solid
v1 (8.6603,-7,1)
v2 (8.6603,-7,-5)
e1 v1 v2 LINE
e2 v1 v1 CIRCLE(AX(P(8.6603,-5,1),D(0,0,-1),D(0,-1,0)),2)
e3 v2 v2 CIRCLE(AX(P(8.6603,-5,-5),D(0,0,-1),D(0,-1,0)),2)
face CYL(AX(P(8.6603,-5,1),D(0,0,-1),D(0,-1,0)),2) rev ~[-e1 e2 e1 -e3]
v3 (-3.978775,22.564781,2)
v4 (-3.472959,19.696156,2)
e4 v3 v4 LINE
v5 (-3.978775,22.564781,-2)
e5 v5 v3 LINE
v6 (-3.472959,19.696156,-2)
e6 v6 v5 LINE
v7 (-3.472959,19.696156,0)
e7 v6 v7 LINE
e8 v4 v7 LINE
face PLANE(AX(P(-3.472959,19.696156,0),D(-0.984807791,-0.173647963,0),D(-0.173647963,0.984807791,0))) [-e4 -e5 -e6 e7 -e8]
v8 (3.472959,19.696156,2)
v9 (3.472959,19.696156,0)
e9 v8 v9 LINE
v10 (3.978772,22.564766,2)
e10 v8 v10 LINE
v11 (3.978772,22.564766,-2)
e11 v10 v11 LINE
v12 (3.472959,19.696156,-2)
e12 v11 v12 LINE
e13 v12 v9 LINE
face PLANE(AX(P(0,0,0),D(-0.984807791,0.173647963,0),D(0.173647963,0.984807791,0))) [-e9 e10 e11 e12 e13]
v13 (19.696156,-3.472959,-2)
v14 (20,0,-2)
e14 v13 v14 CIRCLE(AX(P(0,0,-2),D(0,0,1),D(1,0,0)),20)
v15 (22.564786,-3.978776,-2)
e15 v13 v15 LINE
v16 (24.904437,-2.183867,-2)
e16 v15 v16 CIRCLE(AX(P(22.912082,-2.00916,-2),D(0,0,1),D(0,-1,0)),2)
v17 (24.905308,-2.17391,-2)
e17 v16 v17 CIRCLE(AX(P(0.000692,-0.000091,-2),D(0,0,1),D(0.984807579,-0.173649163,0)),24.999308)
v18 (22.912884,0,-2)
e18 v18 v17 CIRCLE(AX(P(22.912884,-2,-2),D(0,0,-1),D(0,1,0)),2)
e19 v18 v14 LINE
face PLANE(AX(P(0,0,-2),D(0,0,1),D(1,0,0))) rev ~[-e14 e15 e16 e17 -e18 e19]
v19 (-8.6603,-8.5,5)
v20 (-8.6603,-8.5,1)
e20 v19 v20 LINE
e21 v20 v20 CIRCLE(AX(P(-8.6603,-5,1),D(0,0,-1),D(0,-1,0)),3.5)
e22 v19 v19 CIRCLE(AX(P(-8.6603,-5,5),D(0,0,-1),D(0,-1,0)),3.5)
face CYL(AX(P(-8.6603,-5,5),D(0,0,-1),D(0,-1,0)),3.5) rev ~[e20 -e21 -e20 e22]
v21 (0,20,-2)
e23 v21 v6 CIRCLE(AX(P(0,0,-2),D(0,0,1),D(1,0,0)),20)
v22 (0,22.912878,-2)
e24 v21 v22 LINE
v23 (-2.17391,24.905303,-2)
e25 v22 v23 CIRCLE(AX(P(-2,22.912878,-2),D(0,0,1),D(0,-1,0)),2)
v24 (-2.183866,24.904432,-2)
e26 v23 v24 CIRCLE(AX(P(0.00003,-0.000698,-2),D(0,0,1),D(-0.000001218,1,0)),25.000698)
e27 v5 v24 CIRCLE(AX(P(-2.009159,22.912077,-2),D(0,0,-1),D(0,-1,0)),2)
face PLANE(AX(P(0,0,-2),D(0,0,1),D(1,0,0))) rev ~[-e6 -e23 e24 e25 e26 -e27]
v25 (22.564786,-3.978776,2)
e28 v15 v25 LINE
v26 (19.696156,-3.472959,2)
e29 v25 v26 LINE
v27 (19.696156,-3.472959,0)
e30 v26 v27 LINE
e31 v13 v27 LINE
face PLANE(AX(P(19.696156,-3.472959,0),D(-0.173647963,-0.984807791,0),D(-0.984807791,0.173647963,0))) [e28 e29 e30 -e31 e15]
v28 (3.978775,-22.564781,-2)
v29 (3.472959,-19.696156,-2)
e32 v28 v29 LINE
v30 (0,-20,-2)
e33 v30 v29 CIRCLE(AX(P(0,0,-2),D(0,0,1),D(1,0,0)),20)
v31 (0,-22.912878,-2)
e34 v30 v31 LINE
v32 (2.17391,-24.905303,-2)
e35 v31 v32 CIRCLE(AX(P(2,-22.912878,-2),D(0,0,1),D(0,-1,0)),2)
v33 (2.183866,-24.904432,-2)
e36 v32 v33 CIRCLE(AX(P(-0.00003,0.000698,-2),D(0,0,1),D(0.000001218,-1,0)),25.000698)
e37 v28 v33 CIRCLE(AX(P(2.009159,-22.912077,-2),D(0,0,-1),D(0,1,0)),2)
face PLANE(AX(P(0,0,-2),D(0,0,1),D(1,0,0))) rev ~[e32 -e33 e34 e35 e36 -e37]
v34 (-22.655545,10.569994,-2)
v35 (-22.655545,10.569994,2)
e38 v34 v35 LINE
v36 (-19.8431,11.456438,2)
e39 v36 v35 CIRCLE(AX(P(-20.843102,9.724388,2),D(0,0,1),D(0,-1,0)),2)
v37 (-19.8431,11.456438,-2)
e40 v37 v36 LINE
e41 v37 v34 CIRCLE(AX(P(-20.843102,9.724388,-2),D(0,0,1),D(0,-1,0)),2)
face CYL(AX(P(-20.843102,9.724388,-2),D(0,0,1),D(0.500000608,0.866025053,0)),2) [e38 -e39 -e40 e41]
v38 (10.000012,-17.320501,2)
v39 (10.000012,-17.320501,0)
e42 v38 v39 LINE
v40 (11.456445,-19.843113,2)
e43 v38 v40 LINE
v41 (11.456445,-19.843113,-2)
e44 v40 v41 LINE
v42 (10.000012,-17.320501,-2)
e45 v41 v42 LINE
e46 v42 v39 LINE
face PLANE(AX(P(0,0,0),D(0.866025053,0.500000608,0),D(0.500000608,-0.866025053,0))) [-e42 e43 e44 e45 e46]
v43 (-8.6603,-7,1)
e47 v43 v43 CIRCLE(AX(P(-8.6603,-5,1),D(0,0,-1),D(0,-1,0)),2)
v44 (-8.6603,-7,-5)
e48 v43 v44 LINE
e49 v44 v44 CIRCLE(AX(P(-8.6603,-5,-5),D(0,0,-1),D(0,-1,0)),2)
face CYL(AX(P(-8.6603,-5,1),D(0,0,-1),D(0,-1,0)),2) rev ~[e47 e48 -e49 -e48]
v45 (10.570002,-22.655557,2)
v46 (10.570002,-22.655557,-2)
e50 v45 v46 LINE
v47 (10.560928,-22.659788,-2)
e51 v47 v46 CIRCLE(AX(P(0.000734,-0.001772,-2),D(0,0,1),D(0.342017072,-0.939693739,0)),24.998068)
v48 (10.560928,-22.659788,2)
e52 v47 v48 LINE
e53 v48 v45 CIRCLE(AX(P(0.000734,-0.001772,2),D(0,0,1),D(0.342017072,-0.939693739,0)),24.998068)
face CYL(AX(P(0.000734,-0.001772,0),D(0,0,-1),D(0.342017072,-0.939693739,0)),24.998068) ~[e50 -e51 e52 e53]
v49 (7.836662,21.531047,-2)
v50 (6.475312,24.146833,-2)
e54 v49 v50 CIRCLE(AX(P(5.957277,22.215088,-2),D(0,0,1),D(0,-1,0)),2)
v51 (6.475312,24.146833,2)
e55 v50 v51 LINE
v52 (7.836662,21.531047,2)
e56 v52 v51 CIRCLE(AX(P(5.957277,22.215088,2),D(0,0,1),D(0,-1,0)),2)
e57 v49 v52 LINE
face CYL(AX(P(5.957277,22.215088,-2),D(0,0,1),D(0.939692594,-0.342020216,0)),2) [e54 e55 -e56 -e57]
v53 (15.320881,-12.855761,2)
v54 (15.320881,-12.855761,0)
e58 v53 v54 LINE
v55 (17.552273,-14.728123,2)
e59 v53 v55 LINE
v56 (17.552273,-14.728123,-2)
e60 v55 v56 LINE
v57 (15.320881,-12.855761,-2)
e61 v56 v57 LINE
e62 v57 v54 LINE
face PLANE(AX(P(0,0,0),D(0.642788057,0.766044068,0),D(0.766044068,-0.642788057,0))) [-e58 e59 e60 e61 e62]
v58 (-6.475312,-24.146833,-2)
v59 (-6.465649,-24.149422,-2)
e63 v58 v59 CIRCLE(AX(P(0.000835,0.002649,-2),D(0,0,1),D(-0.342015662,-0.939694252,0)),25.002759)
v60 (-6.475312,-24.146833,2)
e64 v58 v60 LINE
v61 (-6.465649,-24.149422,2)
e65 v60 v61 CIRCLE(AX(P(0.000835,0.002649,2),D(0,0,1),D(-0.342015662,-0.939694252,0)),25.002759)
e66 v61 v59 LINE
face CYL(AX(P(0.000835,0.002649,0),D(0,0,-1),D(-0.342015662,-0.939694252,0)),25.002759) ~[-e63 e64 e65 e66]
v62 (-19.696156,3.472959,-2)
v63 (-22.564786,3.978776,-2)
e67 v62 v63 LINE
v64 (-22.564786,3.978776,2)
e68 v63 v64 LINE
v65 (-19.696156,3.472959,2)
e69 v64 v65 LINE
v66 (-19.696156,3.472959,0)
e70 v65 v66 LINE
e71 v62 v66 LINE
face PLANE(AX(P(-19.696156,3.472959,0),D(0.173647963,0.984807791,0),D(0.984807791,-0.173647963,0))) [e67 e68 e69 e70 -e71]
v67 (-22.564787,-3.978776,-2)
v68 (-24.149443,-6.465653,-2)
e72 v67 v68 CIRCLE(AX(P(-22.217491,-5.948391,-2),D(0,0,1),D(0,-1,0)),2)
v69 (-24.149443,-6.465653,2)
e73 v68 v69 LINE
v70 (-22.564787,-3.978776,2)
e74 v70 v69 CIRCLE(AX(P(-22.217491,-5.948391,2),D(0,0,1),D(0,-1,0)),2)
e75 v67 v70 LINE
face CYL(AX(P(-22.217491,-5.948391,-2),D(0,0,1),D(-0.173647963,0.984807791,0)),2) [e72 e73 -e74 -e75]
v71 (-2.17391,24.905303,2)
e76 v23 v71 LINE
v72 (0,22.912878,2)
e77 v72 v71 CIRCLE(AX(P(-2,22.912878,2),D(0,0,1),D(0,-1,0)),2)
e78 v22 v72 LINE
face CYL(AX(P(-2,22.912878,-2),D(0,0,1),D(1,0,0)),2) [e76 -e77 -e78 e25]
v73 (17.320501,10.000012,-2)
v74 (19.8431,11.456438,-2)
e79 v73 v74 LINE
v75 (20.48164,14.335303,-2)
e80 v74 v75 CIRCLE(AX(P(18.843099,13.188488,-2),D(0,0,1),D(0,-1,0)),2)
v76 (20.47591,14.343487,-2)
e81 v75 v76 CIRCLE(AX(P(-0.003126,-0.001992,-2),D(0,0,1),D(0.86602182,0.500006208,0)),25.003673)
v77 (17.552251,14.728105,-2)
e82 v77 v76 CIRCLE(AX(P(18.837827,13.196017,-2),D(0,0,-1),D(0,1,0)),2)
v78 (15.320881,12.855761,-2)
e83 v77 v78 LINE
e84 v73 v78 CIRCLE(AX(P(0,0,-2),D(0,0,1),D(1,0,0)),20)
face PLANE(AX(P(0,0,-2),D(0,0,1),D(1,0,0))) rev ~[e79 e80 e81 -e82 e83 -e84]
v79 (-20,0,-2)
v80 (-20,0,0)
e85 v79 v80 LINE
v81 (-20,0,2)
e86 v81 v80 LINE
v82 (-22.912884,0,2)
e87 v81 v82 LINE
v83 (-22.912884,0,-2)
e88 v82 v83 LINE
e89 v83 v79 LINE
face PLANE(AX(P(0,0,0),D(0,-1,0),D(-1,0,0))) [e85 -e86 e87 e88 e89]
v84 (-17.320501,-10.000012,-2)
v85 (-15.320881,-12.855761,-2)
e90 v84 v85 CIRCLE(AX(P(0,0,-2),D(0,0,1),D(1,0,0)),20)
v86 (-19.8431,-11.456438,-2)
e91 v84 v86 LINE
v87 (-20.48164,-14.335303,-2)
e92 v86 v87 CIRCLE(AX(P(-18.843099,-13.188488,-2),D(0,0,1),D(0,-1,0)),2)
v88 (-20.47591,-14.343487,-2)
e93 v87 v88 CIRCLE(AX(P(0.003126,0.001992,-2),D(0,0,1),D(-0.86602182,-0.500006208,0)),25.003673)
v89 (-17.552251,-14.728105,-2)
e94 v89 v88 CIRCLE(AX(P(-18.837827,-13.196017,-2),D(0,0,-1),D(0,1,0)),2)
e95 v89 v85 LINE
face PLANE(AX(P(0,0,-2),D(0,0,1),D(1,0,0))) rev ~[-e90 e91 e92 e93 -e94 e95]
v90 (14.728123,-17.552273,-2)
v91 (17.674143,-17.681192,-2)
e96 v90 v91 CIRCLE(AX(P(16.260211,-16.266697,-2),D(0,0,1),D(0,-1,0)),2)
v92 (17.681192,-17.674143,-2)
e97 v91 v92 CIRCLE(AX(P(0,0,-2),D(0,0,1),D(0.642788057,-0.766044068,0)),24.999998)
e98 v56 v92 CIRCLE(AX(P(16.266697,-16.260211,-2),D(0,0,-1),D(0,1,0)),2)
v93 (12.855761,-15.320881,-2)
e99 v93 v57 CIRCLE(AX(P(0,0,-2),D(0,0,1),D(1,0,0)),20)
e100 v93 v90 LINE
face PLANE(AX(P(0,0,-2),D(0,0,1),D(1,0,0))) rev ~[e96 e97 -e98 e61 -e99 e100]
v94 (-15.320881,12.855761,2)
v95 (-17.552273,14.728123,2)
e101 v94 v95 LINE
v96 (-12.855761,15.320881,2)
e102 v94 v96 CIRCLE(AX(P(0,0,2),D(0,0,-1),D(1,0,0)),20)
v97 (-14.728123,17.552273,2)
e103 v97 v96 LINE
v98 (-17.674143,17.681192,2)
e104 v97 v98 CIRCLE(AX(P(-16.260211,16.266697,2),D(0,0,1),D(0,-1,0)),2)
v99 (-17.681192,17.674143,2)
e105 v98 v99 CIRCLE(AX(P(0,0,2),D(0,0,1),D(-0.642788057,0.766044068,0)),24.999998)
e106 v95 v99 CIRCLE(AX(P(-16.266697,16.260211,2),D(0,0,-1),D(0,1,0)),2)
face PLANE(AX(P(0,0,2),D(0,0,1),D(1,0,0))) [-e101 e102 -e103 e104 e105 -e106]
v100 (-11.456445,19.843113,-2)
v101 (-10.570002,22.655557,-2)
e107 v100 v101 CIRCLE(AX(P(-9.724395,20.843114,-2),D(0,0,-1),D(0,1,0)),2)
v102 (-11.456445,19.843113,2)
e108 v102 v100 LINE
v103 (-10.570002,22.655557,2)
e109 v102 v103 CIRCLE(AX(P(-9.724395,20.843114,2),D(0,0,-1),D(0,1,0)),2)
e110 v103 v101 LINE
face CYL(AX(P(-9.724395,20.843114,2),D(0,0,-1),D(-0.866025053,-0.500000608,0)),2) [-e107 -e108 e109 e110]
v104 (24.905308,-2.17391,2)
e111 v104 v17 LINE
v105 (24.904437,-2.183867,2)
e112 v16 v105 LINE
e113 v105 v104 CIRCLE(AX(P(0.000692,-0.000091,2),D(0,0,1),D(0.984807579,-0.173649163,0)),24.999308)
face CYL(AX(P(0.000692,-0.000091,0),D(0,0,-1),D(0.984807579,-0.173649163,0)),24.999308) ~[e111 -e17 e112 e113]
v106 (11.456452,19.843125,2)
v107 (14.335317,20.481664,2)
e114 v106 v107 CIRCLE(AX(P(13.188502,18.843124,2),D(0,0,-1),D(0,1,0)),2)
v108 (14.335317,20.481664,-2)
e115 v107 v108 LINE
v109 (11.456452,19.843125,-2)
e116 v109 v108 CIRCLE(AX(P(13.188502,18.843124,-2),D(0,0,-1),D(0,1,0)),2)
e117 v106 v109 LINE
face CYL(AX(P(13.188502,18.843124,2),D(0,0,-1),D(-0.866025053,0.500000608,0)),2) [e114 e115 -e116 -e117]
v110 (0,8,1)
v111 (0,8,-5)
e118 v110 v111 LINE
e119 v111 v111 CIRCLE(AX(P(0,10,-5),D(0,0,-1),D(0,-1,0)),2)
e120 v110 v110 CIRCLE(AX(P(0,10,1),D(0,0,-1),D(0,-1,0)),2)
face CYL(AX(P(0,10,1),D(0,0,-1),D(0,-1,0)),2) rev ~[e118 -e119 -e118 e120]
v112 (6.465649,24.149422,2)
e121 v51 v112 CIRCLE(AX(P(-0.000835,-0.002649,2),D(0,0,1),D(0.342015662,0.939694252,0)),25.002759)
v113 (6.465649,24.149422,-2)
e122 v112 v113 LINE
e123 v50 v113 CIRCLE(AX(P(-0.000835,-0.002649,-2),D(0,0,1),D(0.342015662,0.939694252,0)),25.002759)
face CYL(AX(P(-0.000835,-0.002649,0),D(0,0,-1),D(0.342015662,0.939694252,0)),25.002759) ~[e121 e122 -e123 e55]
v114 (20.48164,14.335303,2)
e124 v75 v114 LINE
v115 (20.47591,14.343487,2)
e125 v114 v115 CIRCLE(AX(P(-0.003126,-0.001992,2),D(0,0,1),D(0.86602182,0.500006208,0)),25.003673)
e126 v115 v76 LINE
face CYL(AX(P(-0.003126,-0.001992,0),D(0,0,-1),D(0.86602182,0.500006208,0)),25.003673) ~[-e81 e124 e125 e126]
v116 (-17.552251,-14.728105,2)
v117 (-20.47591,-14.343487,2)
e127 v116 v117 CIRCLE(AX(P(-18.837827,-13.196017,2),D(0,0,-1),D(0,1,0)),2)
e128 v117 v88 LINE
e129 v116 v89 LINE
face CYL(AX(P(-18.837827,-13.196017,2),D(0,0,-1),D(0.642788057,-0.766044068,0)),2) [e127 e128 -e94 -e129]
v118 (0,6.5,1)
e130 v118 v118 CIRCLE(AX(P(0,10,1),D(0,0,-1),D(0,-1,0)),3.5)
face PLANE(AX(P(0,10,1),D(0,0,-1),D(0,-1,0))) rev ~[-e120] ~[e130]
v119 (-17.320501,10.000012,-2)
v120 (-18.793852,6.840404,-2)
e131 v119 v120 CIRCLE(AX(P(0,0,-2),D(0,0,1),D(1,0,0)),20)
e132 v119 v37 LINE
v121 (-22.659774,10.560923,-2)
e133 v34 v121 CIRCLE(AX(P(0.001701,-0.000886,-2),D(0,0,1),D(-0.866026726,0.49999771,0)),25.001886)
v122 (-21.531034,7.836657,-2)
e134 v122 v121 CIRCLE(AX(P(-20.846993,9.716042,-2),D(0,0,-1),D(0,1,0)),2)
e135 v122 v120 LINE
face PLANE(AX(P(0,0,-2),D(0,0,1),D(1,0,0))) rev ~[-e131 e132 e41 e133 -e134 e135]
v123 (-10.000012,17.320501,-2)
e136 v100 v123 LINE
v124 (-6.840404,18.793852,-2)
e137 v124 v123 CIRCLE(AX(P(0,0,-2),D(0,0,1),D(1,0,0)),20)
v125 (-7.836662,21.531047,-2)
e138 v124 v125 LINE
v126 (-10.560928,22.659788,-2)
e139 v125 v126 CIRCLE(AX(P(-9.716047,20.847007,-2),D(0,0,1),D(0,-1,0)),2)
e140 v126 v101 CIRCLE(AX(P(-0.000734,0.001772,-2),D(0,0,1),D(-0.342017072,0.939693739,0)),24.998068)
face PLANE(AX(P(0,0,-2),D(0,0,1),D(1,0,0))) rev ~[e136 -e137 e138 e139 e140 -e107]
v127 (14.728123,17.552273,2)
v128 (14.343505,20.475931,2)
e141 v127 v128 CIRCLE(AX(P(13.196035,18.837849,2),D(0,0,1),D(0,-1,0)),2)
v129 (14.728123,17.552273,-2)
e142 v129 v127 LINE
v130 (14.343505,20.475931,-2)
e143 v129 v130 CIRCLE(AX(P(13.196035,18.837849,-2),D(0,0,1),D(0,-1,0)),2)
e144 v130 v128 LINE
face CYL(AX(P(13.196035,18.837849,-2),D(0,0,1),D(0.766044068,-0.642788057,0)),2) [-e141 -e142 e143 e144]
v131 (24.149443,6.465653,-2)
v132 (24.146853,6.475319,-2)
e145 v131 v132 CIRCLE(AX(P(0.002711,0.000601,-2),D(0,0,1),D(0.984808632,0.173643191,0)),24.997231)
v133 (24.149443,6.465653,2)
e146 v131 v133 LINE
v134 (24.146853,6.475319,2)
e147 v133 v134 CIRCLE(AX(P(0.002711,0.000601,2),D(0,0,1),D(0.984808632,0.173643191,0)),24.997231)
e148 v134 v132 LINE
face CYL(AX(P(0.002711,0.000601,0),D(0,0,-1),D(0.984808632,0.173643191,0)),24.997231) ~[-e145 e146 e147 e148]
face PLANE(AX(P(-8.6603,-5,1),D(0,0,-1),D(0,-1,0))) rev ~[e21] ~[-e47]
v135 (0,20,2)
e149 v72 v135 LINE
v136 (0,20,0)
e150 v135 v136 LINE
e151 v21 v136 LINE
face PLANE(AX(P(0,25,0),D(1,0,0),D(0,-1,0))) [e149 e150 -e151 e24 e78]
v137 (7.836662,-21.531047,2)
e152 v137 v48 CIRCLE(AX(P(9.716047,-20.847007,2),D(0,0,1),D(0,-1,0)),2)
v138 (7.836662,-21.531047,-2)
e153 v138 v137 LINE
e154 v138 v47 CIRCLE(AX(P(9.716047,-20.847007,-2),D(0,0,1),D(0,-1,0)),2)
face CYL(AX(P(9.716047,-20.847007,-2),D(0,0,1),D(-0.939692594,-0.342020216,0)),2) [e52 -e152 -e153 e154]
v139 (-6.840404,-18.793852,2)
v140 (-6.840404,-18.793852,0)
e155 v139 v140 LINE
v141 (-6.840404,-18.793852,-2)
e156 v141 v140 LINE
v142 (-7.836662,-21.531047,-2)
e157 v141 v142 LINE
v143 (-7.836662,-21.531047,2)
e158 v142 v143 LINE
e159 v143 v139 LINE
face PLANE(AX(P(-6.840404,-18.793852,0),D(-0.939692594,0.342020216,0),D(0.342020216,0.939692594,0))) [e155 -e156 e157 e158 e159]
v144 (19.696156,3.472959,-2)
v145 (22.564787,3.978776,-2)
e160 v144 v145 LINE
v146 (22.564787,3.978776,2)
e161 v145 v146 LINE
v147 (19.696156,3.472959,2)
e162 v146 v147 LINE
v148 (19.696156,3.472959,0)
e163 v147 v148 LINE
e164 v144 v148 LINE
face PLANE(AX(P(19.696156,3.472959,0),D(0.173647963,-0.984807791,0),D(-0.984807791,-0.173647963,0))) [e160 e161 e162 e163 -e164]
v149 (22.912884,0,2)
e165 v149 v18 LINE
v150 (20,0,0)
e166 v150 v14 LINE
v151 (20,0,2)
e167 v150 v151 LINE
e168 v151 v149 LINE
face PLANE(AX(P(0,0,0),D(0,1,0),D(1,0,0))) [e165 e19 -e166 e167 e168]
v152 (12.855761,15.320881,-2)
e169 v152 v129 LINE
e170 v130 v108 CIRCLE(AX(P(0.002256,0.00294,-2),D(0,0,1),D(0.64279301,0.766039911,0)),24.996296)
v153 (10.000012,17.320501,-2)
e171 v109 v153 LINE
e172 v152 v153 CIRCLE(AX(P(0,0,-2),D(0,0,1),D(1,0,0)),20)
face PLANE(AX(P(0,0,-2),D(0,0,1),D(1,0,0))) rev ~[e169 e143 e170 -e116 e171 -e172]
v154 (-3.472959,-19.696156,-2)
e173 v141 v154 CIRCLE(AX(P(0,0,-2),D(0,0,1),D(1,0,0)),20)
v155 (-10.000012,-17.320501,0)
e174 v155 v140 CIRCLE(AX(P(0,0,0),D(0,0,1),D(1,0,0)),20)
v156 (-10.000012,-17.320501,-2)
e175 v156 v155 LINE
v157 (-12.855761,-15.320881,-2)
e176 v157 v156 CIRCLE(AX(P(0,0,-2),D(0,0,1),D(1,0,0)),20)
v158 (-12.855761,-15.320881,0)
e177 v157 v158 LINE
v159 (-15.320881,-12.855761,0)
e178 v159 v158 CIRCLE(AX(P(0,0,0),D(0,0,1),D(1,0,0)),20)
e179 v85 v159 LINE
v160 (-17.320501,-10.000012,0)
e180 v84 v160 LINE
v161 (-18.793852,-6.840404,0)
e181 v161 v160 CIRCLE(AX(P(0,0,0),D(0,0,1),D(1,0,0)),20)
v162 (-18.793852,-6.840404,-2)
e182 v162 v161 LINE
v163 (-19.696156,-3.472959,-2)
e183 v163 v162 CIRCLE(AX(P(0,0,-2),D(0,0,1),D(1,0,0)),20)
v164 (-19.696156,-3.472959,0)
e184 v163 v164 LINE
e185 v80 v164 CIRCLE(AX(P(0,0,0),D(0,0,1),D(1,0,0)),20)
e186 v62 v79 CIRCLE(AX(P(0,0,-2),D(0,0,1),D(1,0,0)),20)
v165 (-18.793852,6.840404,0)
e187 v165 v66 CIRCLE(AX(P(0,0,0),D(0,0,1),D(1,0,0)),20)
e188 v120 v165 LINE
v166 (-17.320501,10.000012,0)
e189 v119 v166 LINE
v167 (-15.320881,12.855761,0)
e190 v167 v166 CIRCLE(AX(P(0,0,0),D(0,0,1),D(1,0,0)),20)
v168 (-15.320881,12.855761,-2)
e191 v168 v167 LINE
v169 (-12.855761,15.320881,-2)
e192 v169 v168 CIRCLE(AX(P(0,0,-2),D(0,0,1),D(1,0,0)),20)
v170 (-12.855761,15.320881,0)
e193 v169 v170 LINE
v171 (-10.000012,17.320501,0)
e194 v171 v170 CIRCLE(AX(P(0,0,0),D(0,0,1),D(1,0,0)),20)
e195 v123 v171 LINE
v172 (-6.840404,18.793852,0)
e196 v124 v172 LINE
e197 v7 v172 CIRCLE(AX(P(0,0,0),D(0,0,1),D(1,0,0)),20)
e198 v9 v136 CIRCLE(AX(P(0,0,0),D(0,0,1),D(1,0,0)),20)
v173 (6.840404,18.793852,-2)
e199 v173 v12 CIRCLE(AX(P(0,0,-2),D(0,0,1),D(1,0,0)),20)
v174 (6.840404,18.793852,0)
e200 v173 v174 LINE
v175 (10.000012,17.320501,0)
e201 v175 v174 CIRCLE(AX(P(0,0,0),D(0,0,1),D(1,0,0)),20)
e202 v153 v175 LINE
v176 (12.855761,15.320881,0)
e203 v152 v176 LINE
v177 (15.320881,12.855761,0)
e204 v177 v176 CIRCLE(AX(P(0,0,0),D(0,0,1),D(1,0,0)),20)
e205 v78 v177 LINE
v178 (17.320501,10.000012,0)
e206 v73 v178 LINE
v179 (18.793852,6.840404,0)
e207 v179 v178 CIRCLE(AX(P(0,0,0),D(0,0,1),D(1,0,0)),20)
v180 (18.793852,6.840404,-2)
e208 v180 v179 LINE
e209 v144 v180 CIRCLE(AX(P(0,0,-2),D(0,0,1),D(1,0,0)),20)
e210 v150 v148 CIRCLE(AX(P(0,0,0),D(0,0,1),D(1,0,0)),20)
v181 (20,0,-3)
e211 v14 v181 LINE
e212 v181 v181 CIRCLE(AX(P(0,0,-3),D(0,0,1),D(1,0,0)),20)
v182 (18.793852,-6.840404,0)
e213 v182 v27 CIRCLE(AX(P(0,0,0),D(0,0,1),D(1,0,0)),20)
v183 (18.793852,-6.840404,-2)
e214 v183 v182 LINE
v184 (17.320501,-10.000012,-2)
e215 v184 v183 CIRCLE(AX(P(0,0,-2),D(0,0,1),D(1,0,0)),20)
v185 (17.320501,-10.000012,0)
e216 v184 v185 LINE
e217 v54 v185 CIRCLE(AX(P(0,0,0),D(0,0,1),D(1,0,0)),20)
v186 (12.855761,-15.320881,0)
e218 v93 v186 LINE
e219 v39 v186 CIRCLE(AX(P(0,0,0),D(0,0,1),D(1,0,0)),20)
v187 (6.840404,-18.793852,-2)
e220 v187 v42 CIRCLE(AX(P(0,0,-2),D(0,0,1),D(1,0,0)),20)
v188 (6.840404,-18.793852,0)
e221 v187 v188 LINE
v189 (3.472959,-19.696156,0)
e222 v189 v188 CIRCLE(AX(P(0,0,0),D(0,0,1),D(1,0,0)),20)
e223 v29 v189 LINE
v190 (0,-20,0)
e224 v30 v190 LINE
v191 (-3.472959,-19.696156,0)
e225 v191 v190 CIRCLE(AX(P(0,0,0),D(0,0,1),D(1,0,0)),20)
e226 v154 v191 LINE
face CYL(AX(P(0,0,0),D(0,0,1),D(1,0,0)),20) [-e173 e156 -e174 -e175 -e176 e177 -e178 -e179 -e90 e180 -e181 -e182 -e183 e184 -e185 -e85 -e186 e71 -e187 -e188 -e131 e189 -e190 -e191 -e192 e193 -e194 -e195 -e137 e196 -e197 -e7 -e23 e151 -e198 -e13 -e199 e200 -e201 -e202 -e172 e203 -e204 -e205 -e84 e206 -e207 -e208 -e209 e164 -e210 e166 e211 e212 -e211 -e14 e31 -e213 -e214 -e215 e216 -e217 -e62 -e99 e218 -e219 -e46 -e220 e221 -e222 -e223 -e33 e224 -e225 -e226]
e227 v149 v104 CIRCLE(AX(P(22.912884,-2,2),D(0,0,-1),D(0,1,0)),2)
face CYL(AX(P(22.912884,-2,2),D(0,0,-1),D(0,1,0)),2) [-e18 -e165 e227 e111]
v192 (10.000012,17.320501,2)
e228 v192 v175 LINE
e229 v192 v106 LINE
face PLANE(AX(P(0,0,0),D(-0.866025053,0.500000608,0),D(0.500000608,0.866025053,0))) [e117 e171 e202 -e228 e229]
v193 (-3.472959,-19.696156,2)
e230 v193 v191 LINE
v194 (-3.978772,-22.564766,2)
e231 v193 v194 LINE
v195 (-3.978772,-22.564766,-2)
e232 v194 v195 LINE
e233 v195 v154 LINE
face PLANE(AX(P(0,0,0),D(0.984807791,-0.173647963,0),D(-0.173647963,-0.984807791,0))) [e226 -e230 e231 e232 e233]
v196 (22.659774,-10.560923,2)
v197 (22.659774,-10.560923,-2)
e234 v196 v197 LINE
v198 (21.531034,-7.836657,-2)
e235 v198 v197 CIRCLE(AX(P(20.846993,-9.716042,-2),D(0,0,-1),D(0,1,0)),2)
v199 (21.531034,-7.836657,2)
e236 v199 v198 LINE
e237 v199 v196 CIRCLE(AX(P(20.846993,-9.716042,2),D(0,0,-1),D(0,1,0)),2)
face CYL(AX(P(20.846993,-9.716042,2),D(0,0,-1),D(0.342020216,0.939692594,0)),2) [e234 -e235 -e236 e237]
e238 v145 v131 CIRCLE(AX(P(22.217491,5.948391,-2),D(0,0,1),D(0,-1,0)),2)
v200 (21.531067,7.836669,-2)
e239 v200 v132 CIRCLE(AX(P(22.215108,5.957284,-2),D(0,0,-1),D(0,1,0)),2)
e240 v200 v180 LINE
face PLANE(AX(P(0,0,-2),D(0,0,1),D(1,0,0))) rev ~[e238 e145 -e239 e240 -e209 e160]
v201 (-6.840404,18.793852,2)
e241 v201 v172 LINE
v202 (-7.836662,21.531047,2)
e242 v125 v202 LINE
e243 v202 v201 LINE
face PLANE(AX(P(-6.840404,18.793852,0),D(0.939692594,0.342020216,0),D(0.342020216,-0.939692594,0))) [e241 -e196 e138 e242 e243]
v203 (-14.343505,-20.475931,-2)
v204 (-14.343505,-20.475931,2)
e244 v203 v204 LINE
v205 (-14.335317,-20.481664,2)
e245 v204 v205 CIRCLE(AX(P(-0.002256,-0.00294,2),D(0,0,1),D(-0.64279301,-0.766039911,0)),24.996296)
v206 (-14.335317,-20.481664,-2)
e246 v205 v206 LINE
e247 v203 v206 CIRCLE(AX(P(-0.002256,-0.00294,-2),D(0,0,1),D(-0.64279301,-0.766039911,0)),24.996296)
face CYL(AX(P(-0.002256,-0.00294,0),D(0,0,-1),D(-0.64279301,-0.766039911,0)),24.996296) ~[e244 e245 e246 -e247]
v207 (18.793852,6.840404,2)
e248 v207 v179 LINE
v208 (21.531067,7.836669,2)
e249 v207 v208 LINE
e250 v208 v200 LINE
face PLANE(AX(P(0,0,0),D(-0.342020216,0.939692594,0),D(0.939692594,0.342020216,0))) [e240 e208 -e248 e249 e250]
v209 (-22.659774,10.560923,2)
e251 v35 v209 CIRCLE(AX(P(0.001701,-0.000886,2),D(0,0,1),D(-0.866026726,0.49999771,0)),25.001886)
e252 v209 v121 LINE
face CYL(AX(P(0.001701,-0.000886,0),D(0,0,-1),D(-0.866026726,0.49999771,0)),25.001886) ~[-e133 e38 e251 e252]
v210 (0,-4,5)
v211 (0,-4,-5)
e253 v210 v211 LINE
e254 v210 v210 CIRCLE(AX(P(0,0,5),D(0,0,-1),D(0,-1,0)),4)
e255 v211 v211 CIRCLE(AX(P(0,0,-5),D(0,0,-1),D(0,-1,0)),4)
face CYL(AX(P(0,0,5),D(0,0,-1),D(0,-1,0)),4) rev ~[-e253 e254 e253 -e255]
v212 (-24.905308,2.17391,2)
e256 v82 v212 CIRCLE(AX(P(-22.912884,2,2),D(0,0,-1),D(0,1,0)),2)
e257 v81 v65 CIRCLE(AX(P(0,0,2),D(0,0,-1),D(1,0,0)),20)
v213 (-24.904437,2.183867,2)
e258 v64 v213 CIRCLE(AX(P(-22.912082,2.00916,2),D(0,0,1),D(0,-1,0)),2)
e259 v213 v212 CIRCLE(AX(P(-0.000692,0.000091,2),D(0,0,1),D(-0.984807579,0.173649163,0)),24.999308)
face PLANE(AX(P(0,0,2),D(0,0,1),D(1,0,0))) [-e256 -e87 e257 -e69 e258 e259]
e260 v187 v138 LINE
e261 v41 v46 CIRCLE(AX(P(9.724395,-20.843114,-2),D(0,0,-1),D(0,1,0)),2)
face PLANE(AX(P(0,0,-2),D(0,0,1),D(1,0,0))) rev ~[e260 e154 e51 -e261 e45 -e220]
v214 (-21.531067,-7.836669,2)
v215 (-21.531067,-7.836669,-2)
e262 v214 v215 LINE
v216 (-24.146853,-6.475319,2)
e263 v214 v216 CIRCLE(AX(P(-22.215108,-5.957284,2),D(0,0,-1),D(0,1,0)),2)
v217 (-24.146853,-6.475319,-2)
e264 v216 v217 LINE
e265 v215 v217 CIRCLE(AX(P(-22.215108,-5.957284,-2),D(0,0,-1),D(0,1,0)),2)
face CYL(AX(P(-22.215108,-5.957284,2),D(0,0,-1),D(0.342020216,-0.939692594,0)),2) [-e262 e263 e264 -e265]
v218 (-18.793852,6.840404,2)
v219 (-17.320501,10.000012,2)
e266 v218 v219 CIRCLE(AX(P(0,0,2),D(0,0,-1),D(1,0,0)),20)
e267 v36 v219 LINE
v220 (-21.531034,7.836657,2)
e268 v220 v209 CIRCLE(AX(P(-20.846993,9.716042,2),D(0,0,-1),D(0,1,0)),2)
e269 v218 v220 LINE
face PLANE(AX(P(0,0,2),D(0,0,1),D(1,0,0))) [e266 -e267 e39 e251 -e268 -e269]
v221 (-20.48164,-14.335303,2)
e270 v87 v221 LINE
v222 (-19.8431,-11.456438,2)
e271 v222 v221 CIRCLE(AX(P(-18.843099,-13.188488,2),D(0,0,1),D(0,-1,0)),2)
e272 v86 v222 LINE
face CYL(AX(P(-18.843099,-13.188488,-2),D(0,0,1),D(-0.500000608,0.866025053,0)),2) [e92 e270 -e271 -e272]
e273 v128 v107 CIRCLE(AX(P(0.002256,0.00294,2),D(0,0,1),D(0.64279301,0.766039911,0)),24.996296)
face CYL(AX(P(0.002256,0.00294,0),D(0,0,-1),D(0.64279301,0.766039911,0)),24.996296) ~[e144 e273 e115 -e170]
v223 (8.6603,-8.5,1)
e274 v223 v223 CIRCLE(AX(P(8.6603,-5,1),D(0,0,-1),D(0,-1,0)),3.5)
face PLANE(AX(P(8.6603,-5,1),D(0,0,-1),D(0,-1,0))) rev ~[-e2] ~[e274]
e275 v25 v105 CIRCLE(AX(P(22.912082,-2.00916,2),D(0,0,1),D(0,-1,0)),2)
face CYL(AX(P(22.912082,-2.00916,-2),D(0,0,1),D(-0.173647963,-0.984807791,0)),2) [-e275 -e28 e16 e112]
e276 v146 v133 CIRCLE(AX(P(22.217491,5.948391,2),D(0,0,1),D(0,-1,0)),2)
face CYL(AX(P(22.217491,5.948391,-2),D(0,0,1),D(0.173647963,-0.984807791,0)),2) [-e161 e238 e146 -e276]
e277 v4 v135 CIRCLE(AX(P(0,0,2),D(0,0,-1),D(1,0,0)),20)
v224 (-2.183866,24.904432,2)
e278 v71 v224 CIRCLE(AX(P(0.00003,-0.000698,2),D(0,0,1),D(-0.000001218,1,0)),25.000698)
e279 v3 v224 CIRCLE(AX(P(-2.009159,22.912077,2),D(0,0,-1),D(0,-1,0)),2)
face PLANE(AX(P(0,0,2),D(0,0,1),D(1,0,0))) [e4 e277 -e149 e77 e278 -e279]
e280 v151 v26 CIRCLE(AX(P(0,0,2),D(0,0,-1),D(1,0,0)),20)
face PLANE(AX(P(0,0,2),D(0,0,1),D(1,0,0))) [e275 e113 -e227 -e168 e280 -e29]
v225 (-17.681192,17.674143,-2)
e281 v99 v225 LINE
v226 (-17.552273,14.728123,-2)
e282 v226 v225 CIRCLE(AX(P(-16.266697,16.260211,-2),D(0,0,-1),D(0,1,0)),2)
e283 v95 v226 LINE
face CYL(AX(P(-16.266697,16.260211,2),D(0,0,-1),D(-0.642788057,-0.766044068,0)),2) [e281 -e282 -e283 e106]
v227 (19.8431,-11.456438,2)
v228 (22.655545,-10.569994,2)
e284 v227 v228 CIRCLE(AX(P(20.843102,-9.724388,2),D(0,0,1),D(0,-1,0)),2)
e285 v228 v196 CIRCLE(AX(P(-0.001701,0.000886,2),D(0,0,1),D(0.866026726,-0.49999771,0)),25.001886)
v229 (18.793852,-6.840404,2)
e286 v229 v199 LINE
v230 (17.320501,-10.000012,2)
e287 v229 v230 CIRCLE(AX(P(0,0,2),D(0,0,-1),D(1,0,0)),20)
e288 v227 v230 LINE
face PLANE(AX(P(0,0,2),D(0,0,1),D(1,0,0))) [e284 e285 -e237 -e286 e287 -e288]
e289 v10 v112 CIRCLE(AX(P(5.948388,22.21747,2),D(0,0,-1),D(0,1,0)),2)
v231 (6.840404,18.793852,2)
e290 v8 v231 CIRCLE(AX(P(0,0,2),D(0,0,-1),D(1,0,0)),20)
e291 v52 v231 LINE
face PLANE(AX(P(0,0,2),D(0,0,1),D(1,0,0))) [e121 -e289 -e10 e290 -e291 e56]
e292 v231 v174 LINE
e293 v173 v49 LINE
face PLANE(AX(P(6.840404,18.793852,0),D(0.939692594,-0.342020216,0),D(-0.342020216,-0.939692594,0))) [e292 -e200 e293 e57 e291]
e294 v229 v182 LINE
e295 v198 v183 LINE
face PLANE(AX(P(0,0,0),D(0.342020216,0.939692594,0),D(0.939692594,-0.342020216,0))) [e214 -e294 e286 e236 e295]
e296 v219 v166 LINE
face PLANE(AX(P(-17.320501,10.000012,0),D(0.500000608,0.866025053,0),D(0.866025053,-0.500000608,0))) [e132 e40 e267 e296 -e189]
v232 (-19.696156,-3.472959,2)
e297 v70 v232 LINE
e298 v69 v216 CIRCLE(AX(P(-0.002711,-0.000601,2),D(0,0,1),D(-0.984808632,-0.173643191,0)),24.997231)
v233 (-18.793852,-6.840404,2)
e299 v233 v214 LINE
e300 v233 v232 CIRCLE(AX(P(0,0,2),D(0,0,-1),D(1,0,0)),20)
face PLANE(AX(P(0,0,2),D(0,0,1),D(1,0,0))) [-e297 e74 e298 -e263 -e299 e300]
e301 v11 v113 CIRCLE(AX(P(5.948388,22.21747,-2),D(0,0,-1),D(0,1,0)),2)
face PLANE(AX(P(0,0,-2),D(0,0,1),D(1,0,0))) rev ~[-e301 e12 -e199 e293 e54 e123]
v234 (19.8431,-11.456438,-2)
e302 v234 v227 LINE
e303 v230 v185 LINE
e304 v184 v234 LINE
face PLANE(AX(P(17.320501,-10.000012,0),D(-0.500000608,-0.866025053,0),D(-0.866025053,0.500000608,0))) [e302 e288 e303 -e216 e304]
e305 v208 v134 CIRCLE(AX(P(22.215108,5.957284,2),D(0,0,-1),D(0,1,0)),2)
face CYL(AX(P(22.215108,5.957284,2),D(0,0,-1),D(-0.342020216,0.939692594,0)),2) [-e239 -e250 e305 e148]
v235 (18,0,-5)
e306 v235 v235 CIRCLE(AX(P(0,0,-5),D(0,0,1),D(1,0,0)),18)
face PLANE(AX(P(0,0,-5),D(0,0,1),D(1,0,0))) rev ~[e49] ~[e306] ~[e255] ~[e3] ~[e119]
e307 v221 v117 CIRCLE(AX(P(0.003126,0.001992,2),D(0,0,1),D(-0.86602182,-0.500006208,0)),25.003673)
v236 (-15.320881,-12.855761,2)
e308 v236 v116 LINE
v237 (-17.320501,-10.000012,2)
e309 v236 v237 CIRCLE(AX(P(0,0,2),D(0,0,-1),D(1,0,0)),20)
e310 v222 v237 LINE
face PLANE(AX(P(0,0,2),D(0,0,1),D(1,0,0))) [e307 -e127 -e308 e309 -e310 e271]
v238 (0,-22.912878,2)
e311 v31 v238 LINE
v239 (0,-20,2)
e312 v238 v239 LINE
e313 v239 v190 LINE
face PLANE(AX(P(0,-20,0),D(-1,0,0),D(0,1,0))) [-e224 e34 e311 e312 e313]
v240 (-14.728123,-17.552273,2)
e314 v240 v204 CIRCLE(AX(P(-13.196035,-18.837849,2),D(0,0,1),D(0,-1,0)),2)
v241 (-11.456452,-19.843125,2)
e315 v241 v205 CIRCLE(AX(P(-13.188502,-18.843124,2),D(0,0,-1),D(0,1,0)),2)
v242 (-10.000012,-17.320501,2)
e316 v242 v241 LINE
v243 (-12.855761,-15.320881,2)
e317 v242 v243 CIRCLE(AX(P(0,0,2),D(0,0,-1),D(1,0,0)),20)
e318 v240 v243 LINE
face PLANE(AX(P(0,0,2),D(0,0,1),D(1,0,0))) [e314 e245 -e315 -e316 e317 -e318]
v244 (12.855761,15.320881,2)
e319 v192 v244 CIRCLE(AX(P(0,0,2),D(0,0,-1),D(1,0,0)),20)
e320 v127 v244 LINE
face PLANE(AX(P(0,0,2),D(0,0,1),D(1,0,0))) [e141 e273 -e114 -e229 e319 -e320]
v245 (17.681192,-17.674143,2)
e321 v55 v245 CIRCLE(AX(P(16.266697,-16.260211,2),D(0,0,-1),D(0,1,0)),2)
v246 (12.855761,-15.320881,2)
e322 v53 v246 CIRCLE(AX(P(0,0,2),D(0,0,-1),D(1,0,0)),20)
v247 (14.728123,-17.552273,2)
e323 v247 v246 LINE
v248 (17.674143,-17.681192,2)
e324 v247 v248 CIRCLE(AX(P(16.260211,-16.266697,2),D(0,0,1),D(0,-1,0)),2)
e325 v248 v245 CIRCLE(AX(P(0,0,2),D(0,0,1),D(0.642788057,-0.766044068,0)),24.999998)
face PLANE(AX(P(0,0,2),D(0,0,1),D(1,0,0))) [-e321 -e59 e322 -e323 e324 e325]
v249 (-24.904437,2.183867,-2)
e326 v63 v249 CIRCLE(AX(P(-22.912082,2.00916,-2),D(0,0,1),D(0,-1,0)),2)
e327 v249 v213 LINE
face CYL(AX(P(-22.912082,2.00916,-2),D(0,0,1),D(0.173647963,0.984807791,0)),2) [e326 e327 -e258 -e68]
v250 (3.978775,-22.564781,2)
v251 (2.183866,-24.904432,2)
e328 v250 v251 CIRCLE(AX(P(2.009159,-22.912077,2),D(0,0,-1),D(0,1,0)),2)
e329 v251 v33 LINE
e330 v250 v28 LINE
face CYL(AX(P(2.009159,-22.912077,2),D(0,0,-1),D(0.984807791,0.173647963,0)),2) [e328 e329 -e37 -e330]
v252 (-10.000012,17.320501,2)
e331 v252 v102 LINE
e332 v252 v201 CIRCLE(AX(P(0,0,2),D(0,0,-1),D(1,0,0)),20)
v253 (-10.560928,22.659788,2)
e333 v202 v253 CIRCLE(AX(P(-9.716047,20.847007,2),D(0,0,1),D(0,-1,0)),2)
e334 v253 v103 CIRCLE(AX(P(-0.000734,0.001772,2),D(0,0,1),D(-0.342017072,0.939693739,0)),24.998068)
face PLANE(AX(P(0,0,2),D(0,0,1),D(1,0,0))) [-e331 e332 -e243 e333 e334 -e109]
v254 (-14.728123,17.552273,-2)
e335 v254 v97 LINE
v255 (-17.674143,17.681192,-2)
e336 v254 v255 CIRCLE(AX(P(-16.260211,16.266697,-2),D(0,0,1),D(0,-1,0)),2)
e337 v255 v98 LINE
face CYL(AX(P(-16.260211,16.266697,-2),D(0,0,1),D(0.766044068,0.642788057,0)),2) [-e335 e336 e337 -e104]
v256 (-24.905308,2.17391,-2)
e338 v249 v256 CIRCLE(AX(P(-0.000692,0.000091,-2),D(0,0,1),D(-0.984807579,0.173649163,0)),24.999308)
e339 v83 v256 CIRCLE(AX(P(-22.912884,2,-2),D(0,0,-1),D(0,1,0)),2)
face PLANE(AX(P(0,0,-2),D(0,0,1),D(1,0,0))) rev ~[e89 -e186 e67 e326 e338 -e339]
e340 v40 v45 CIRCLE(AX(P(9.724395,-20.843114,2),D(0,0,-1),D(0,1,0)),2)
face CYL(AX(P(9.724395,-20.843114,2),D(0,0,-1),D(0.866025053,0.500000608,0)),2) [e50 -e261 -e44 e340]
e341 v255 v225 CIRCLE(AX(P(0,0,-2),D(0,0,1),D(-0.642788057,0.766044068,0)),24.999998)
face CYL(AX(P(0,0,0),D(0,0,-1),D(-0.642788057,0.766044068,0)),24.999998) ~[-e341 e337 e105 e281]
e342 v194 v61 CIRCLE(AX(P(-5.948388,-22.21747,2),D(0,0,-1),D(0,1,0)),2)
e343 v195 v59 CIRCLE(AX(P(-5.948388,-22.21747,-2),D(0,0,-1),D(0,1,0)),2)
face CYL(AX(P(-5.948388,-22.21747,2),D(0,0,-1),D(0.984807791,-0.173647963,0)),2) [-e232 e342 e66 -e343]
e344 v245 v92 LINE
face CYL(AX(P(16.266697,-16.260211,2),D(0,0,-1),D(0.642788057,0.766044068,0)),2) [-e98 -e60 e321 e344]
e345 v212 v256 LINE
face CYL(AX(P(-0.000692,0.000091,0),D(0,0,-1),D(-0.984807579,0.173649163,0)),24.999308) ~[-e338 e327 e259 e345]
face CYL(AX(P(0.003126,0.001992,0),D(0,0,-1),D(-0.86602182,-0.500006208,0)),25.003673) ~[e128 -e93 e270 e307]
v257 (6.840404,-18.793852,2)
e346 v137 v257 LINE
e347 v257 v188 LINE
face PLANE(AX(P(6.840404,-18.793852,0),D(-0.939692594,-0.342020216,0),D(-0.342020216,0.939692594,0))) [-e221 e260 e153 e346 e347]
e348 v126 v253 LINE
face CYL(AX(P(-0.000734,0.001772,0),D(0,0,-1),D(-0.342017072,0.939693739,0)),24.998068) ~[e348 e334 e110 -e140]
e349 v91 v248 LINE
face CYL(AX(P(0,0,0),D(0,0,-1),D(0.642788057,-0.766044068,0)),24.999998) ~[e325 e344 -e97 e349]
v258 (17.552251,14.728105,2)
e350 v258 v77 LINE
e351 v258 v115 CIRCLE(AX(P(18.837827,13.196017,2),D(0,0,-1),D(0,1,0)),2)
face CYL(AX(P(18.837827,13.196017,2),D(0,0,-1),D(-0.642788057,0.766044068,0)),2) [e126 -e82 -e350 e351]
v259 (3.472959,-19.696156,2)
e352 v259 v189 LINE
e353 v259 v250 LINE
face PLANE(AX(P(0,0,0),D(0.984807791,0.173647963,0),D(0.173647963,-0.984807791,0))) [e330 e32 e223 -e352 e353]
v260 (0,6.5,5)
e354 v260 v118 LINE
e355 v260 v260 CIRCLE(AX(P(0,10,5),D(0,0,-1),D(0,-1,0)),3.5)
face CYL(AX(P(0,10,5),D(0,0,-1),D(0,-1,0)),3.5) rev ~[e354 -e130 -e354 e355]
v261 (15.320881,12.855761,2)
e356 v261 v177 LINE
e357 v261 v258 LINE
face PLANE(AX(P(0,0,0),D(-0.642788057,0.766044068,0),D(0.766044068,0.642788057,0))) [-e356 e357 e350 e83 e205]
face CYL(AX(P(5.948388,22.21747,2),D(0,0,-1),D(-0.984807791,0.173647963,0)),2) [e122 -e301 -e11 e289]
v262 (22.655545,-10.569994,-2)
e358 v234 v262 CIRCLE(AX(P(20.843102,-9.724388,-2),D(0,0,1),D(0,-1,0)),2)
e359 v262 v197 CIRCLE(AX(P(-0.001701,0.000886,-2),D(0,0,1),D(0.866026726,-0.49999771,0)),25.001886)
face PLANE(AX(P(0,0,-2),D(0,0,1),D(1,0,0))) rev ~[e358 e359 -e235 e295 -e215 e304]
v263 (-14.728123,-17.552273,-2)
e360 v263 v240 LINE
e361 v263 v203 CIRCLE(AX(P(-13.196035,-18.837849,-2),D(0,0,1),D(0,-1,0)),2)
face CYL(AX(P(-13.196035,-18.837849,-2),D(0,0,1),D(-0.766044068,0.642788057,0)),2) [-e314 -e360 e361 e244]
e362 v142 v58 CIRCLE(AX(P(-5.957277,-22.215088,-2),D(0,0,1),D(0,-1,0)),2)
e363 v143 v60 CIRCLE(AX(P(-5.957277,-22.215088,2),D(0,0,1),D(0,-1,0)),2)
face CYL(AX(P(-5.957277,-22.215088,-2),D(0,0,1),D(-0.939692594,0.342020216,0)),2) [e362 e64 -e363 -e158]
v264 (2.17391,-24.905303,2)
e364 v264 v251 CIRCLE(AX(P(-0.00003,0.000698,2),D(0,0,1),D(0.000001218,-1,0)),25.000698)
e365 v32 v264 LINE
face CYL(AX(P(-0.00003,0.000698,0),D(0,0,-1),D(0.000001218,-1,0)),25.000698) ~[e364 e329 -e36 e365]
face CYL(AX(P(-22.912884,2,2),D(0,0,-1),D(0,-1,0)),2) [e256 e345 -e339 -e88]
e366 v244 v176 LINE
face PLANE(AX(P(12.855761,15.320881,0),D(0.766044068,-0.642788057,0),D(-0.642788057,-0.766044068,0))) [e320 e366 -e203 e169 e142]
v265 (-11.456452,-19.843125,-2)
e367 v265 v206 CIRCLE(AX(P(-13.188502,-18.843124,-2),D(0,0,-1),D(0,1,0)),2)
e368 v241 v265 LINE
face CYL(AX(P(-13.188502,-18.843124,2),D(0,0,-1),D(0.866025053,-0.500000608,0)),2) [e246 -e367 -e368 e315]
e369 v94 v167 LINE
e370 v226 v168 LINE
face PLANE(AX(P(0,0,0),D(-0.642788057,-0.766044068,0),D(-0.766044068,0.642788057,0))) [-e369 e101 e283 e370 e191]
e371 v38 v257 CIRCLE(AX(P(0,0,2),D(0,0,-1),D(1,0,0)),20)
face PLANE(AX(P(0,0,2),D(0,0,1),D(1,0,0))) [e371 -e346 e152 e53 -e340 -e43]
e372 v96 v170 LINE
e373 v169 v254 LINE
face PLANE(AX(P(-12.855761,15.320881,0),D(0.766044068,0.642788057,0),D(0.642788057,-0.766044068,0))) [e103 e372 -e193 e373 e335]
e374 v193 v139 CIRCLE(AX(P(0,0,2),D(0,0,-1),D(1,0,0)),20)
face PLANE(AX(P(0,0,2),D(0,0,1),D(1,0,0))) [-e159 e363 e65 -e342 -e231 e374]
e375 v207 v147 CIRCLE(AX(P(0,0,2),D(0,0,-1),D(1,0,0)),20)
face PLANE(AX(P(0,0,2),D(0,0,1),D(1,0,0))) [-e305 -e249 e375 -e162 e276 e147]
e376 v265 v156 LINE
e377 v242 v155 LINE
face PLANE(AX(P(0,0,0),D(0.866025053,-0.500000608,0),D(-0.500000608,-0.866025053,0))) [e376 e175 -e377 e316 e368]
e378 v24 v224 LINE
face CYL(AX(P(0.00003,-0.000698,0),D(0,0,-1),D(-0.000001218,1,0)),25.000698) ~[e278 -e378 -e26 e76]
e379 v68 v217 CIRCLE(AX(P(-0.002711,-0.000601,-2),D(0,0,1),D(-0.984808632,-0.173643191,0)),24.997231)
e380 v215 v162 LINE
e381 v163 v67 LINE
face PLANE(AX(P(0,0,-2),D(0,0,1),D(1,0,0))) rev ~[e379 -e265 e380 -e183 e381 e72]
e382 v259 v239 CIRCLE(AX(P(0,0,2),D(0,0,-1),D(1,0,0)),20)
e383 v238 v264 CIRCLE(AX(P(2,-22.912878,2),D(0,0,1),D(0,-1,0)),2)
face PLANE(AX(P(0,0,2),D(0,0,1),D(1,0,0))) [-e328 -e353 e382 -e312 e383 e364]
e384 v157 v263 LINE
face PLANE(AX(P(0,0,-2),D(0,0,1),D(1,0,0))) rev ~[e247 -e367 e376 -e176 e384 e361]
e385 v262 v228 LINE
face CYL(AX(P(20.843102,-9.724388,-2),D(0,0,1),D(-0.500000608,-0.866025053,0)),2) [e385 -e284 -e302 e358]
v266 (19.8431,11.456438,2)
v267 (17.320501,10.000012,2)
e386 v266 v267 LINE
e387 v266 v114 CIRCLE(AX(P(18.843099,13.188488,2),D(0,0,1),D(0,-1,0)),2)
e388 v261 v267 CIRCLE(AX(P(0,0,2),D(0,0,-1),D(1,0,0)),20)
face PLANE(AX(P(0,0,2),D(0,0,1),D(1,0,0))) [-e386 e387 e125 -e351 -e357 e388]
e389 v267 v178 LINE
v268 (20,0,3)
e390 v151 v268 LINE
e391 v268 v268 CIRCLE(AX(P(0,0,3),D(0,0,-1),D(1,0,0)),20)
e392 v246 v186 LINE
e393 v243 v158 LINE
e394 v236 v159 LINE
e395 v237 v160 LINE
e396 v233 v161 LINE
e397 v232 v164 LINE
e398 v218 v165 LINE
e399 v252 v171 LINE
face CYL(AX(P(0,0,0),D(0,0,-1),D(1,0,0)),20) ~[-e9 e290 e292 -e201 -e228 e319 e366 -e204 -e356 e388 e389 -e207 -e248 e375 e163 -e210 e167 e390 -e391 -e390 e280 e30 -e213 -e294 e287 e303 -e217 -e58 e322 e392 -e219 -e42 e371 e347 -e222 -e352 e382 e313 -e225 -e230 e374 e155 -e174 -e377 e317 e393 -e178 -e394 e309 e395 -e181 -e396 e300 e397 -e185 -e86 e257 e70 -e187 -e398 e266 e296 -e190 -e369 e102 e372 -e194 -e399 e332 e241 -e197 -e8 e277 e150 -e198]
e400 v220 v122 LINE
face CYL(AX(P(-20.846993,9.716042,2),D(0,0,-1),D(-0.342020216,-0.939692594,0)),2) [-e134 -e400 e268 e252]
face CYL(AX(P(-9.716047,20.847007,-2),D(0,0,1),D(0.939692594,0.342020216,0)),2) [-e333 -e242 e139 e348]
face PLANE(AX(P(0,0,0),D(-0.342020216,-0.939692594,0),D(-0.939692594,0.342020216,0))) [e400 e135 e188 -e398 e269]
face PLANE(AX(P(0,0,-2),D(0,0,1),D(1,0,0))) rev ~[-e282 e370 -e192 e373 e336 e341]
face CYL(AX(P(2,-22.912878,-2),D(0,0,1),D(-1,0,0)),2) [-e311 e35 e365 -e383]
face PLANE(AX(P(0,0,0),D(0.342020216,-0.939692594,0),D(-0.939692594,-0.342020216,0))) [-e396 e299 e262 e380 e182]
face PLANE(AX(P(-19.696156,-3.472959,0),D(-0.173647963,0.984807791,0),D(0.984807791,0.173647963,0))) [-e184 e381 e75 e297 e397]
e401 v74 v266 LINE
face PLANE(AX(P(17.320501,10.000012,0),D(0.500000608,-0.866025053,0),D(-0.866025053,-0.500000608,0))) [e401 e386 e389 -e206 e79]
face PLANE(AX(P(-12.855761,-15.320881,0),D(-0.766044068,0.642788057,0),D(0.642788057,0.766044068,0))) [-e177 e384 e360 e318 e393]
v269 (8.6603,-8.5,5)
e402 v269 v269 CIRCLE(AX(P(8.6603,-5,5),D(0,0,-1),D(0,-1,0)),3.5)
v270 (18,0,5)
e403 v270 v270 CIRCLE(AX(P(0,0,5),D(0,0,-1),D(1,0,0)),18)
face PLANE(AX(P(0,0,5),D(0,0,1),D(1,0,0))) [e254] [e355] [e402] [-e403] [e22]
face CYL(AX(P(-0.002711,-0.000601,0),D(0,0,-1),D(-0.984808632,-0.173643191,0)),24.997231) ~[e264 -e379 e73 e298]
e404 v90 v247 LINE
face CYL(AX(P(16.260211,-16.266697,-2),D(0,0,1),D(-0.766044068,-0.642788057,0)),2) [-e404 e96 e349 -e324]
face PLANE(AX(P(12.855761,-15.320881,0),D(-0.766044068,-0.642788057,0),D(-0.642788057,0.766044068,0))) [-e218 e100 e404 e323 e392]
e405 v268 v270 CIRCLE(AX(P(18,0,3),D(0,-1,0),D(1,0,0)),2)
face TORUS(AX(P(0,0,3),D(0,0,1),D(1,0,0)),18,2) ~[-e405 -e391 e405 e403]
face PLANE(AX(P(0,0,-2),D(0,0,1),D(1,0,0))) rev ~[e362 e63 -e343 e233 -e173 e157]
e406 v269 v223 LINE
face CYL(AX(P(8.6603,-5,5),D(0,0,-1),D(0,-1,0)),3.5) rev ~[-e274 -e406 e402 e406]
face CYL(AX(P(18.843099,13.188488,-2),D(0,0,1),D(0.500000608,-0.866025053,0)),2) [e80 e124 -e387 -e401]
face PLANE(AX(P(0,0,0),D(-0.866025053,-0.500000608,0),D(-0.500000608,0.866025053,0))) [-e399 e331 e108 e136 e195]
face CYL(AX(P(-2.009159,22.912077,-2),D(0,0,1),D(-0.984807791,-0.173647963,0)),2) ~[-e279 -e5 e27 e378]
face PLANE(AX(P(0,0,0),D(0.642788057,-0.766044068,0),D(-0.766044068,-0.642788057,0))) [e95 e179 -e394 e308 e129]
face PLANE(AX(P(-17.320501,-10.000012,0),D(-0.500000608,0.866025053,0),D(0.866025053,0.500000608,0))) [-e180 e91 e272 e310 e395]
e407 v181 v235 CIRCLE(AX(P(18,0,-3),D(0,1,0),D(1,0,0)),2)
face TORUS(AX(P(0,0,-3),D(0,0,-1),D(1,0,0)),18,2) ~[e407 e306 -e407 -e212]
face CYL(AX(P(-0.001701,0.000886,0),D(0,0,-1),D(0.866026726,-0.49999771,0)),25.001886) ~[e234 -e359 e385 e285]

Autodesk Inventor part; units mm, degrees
ref_plane "YZ Plane" through (0, 0, 0) normal (1, 0, 0) x (0, 1, 0)
ref_plane "XZ Plane" through (0, 0, 0) normal (0, 1, 0) x (-1, 0, 0)
ref_plane "XY Plane" through (0, 0, 0) normal (0, 0, 1) x (1, 0, 0)
sketch "Sketch1" plane through (0, 0, 0) normal (0, 0, 1) x (1, 0, 0)
  arc A0 (0, 25) -> (-4.3412, 24.6202) centre (0, 0) ccw
  line L0 (0, 0) -> (-4.3412, 24.6202) construction
  line L1 (0, 0) -> (0, 25) construction
  line L2 (0, 25) -> (0, 0)
  line L3 (0, 0) -> (-4.3412, 24.6202)
  arc A1 (-8.5505, 23.4923) -> (-12.5, 21.6506) centre (0, 0) ccw
  line L4 (0, 0) -> (-12.5, 21.6506) construction
  line L5 (0, 0) -> (-8.5505, 23.4923) construction
  line L6 (-8.5505, 23.4923) -> (0, 0)
  line L7 (0, 0) -> (-12.5, 21.6506)
  arc A2 (-16.0697, 19.1511) -> (-19.1511, 16.0697) centre (0, 0) ccw
  line L8 (0, 0) -> (-19.1511, 16.0697) construction
  line L9 (0, 0) -> (-16.0697, 19.1511) construction
  line L10 (-16.0697, 19.1511) -> (0, 0)
  line L11 (0, 0) -> (-19.1511, 16.0697)
  arc A3 (-21.6506, 12.5) -> (-23.4923, 8.5505) centre (0, 0) ccw
  line L12 (0, 0) -> (-23.4923, 8.5505) construction
  line L13 (0, 0) -> (-21.6506, 12.5) construction
  line L14 (-21.6506, 12.5) -> (0, 0)
  line L15 (0, 0) -> (-23.4923, 8.5505)
  arc A4 (-24.6202, 4.3412) -> (-25, 0) centre (0, 0) ccw
  line L16 (0, 0) -> (-25, 0) construction
  line L17 (0, 0) -> (-24.6202, 4.3412) construction
  line L18 (-24.6202, 4.3412) -> (0, 0)
  line L19 (0, 0) -> (-25, 0)
  arc A5 (-24.6202, -4.3412) -> (-23.4923, -8.5505) centre (0, 0) ccw
  line L20 (0, 0) -> (-23.4923, -8.5505) construction
  line L21 (0, 0) -> (-24.6202, -4.3412) construction
  line L22 (-24.6202, -4.3412) -> (0, 0)
  line L23 (0, 0) -> (-23.4923, -8.5505)
  arc A6 (-21.6506, -12.5) -> (-19.1511, -16.0697) centre (0, 0) ccw
  line L24 (0, 0) -> (-19.1511, -16.0697) construction
  line L25 (0, 0) -> (-21.6506, -12.5) construction
  line L26 (-21.6506, -12.5) -> (0, 0)
  line L27 (0, 0) -> (-19.1511, -16.0697)
  arc A7 (-16.0697, -19.1511) -> (-12.5, -21.6506) centre (0, 0) ccw
  line L28 (0, 0) -> (-12.5, -21.6506) construction
  line L29 (0, 0) -> (-16.0697, -19.1511) construction
  line L30 (-16.0697, -19.1511) -> (0, 0)
  line L31 (0, 0) -> (-12.5, -21.6506)
  arc A8 (-8.5505, -23.4923) -> (-4.3412, -24.6202) centre (0, 0) ccw
  line L32 (0, 0) -> (-4.3412, -24.6202) construction
  line L33 (0, 0) -> (-8.5505, -23.4923) construction
  line L34 (-8.5505, -23.4923) -> (0, 0)
  line L35 (0, 0) -> (-4.3412, -24.6202)
  arc A9 (0, -25) -> (4.3412, -24.6202) centre (0, 0) ccw
  line L36 (0, 0) -> (4.3412, -24.6202) construction
  line L37 (0, 0) -> (0, -25) construction
  line L38 (0, -25) -> (0, 0)
  line L39 (0, 0) -> (4.3412, -24.6202)
  arc A10 (8.5505, -23.4923) -> (12.5, -21.6506) centre (0, 0) ccw
  line L40 (0, 0) -> (12.5, -21.6506) construction
  line L41 (0, 0) -> (8.5505, -23.4923) construction
  line L42 (8.5505, -23.4923) -> (0, 0)
  line L43 (0, 0) -> (12.5, -21.6506)
  arc A11 (16.0697, -19.1511) -> (19.1511, -16.0697) centre (0, 0) ccw
  line L44 (0, 0) -> (19.1511, -16.0697) construction
  line L45 (0, 0) -> (16.0697, -19.1511) construction
  line L46 (16.0697, -19.1511) -> (0, 0)
  line L47 (0, 0) -> (19.1511, -16.0697)
  arc A12 (21.6506, -12.5) -> (23.4923, -8.5505) centre (0, 0) ccw
  line L48 (0, 0) -> (23.4923, -8.5505) construction
  line L49 (0, 0) -> (21.6506, -12.5) construction
  line L50 (21.6506, -12.5) -> (0, 0)
  line L51 (0, 0) -> (23.4923, -8.5505)
  arc A13 (24.6202, -4.3412) -> (25, 0) centre (0, 0) ccw
  line L52 (0, 0) -> (25, 0) construction
  line L53 (0, 0) -> (24.6202, -4.3412) construction
  line L54 (24.6202, -4.3412) -> (0, 0)
  line L55 (0, 0) -> (25, 0)
  arc A14 (24.6202, 4.3412) -> (23.4923, 8.5505) centre (0, 0) ccw
  line L56 (0, 0) -> (23.4923, 8.5505) construction
  line L57 (0, 0) -> (24.6202, 4.3412) construction
  line L58 (24.6202, 4.3412) -> (0, 0)
  line L59 (0, 0) -> (23.4923, 8.5505)
  arc A15 (21.6506, 12.5) -> (19.1511, 16.0697) centre (0, 0) ccw
  line L60 (0, 0) -> (19.1511, 16.0697) construction
  line L61 (0, 0) -> (21.6506, 12.5) construction
  line L62 (21.6506, 12.5) -> (0, 0)
  line L63 (0, 0) -> (19.1511, 16.0697)
  arc A16 (16.0697, 19.1511) -> (12.5, 21.6506) centre (0, 0) ccw
  line L64 (0, 0) -> (12.5, 21.6506) construction
  line L65 (0, 0) -> (16.0697, 19.1511) construction
  line L66 (16.0697, 19.1511) -> (0, 0)
  line L67 (0, 0) -> (12.5, 21.6506)
  arc A17 (8.5505, 23.4923) -> (4.3412, 24.6202) centre (0, 0) ccw
  line L68 (0, 0) -> (4.3412, 24.6202) construction
  line L69 (0, 0) -> (8.5505, 23.4923) construction
  line L70 (8.5505, 23.4923) -> (0, 0)
  line L71 (0, 0) -> (4.3412, 24.6202)
  circle A18 centre (0, 0) radius 20
  dimension "d0" = 25
  dimension "d1" = 10
  dimension "d4" = 360
  dimension "d6" = 40
extrude "Extrusion1" add sketch "Sketch1" along normal mid plane 10 contours A18 L71 L2 | L2 L3 A18 | L3 L6 A18 | L7 A18 L6 | L10 A18 L7 | L11 A18 L10 | L14 A18 L11 | L15 A18 L14 | L18 A18 L15 | L19 A18 L18 | L22 A18 L19 | L23 A18 L22 | L26 A18 L23 | L27 A18 L26 | L30 A18 L27 | L31 A18 L30 | L34 A18 L31 | L35 A18 L34 | L38 A18 L35 | L39 A18 L38 | L42 A18 L39 | L43 A18 L42 | L46 A18 L43 | L47 A18 L46 | L50 A18 L47 | L51 A18 L50 | L54 A18 L51 | L55 A18 L54 | L58 A18 L55 | L59 A18 L58 | L62 A18 L59 | L63 A18 L62 | L66 A18 L63 | L67 A18 L66 | L70 A18 L67 | L71 A18 L70
extrude "Extrusion2" add sketch "Sketch1" along normal mid plane 4 contours L2 A18 L3 A0 | L2 L3 A18 | L7 A18 L6 | L11 A18 L10 | L15 A18 L14 | L19 A18 L18 | L23 A18 L22 | L27 A18 L26 | L31 A18 L30 | L35 A18 L34 | L39 A18 L38 | L43 A18 L42 | L47 A18 L46 | L51 A18 L50 | L55 A18 L54 | L59 A18 L58 | L63 A18 L62 | L67 A18 L66 | L71 A18 L70 | L71 A17 L70 A18 | A18 L7 A1 L6 | A18 L11 A2 L10 | A18 L15 A3 L14 | A18 L19 A4 L18 | A18 L23 A5 L22 | A18 L27 A6 L26 | A18 L31 A7 L30 | A18 L35 A8 L34 | A18 L39 A9 L38 | A18 L43 A10 L42 | A18 L47 A11 L46 | A18 L51 A12 L50 | A18 L55 A13 L54 | A18 L59 A14 L58 | A18 L63 A15 L62 | A18 L67 A16 L66
hole "Hole1" at (0, 0, 5) direction (0, 0, -1) diameter 8 end through all
fillet "Fillet1" radius 2 1 edges at (-20, 0, 5)
fillet "Fillet2" radius 2 36 edges at (-4.3412, -24.6202, 0) (-8.5505, -23.4923, 0) (0, -25, 0) (4.3412, -24.6202, 0) (8.5505, -23.4923, 0) (12.5, -21.6506, 0) (16.0697, -19.1511, 0) (19.1511, -16.0697, 0) (21.6506, -12.5, 0) (23.4923, -8.5505, 0) (24.6202, -4.3412, 0) (25, 0, 0) (24.6202, 4.3412, 0) (23.4923, 8.5505, 0) (21.6506, 12.5, 0) (19.1511, 16.0697, 0) (16.0697, 19.1511, 0) (12.5, 21.6506, 0) (8.5505, 23.4923, 0) (4.3412, 24.6202, 0) (0, 25, 0) (-4.3412, 24.6202, 0) (-8.5505, 23.4923, 0) (-12.5, 21.6506, 0) (-16.0697, 19.1511, 0) (-19.1511, 16.0697, 0) (-21.6506, 12.5, 0) (-23.4923, 8.5505, 0) (-24.6202, 4.3412, 0) (-25, 0, 0) (-24.6202, -4.3412, 0) (-23.4923, -8.5505, 0) (-21.6506, -12.5, 0) (-19.1511, -16.0697, 0) (-16.0697, -19.1511, 0) (-12.5, -21.6506, 0)
sketch "Sketch2" plane through (0, 0, 5) normal (0, 0, 1) x (1, 0, 0)
  circle A0 centre (0, 0) radius 4 projected
  point P0 (0, 10)
  point P1 (-8.6603, -5)
  point P2 (8.6603, -5)
  dimension "d22" = 10
  dimension "d25" = 360
hole "Hole2" at (0, 10, 5) at (-8.6603, -5, 5) at (8.6603, -5, 5) direction (0, 0, -1) diameter 4 end through all counterbore diameter 7 counterbore depth 4
fillet "Fillet3" radius 2 1 edges at (-20, 0, -5)
properties part number "sprocket" material "Aluminum-6061"
